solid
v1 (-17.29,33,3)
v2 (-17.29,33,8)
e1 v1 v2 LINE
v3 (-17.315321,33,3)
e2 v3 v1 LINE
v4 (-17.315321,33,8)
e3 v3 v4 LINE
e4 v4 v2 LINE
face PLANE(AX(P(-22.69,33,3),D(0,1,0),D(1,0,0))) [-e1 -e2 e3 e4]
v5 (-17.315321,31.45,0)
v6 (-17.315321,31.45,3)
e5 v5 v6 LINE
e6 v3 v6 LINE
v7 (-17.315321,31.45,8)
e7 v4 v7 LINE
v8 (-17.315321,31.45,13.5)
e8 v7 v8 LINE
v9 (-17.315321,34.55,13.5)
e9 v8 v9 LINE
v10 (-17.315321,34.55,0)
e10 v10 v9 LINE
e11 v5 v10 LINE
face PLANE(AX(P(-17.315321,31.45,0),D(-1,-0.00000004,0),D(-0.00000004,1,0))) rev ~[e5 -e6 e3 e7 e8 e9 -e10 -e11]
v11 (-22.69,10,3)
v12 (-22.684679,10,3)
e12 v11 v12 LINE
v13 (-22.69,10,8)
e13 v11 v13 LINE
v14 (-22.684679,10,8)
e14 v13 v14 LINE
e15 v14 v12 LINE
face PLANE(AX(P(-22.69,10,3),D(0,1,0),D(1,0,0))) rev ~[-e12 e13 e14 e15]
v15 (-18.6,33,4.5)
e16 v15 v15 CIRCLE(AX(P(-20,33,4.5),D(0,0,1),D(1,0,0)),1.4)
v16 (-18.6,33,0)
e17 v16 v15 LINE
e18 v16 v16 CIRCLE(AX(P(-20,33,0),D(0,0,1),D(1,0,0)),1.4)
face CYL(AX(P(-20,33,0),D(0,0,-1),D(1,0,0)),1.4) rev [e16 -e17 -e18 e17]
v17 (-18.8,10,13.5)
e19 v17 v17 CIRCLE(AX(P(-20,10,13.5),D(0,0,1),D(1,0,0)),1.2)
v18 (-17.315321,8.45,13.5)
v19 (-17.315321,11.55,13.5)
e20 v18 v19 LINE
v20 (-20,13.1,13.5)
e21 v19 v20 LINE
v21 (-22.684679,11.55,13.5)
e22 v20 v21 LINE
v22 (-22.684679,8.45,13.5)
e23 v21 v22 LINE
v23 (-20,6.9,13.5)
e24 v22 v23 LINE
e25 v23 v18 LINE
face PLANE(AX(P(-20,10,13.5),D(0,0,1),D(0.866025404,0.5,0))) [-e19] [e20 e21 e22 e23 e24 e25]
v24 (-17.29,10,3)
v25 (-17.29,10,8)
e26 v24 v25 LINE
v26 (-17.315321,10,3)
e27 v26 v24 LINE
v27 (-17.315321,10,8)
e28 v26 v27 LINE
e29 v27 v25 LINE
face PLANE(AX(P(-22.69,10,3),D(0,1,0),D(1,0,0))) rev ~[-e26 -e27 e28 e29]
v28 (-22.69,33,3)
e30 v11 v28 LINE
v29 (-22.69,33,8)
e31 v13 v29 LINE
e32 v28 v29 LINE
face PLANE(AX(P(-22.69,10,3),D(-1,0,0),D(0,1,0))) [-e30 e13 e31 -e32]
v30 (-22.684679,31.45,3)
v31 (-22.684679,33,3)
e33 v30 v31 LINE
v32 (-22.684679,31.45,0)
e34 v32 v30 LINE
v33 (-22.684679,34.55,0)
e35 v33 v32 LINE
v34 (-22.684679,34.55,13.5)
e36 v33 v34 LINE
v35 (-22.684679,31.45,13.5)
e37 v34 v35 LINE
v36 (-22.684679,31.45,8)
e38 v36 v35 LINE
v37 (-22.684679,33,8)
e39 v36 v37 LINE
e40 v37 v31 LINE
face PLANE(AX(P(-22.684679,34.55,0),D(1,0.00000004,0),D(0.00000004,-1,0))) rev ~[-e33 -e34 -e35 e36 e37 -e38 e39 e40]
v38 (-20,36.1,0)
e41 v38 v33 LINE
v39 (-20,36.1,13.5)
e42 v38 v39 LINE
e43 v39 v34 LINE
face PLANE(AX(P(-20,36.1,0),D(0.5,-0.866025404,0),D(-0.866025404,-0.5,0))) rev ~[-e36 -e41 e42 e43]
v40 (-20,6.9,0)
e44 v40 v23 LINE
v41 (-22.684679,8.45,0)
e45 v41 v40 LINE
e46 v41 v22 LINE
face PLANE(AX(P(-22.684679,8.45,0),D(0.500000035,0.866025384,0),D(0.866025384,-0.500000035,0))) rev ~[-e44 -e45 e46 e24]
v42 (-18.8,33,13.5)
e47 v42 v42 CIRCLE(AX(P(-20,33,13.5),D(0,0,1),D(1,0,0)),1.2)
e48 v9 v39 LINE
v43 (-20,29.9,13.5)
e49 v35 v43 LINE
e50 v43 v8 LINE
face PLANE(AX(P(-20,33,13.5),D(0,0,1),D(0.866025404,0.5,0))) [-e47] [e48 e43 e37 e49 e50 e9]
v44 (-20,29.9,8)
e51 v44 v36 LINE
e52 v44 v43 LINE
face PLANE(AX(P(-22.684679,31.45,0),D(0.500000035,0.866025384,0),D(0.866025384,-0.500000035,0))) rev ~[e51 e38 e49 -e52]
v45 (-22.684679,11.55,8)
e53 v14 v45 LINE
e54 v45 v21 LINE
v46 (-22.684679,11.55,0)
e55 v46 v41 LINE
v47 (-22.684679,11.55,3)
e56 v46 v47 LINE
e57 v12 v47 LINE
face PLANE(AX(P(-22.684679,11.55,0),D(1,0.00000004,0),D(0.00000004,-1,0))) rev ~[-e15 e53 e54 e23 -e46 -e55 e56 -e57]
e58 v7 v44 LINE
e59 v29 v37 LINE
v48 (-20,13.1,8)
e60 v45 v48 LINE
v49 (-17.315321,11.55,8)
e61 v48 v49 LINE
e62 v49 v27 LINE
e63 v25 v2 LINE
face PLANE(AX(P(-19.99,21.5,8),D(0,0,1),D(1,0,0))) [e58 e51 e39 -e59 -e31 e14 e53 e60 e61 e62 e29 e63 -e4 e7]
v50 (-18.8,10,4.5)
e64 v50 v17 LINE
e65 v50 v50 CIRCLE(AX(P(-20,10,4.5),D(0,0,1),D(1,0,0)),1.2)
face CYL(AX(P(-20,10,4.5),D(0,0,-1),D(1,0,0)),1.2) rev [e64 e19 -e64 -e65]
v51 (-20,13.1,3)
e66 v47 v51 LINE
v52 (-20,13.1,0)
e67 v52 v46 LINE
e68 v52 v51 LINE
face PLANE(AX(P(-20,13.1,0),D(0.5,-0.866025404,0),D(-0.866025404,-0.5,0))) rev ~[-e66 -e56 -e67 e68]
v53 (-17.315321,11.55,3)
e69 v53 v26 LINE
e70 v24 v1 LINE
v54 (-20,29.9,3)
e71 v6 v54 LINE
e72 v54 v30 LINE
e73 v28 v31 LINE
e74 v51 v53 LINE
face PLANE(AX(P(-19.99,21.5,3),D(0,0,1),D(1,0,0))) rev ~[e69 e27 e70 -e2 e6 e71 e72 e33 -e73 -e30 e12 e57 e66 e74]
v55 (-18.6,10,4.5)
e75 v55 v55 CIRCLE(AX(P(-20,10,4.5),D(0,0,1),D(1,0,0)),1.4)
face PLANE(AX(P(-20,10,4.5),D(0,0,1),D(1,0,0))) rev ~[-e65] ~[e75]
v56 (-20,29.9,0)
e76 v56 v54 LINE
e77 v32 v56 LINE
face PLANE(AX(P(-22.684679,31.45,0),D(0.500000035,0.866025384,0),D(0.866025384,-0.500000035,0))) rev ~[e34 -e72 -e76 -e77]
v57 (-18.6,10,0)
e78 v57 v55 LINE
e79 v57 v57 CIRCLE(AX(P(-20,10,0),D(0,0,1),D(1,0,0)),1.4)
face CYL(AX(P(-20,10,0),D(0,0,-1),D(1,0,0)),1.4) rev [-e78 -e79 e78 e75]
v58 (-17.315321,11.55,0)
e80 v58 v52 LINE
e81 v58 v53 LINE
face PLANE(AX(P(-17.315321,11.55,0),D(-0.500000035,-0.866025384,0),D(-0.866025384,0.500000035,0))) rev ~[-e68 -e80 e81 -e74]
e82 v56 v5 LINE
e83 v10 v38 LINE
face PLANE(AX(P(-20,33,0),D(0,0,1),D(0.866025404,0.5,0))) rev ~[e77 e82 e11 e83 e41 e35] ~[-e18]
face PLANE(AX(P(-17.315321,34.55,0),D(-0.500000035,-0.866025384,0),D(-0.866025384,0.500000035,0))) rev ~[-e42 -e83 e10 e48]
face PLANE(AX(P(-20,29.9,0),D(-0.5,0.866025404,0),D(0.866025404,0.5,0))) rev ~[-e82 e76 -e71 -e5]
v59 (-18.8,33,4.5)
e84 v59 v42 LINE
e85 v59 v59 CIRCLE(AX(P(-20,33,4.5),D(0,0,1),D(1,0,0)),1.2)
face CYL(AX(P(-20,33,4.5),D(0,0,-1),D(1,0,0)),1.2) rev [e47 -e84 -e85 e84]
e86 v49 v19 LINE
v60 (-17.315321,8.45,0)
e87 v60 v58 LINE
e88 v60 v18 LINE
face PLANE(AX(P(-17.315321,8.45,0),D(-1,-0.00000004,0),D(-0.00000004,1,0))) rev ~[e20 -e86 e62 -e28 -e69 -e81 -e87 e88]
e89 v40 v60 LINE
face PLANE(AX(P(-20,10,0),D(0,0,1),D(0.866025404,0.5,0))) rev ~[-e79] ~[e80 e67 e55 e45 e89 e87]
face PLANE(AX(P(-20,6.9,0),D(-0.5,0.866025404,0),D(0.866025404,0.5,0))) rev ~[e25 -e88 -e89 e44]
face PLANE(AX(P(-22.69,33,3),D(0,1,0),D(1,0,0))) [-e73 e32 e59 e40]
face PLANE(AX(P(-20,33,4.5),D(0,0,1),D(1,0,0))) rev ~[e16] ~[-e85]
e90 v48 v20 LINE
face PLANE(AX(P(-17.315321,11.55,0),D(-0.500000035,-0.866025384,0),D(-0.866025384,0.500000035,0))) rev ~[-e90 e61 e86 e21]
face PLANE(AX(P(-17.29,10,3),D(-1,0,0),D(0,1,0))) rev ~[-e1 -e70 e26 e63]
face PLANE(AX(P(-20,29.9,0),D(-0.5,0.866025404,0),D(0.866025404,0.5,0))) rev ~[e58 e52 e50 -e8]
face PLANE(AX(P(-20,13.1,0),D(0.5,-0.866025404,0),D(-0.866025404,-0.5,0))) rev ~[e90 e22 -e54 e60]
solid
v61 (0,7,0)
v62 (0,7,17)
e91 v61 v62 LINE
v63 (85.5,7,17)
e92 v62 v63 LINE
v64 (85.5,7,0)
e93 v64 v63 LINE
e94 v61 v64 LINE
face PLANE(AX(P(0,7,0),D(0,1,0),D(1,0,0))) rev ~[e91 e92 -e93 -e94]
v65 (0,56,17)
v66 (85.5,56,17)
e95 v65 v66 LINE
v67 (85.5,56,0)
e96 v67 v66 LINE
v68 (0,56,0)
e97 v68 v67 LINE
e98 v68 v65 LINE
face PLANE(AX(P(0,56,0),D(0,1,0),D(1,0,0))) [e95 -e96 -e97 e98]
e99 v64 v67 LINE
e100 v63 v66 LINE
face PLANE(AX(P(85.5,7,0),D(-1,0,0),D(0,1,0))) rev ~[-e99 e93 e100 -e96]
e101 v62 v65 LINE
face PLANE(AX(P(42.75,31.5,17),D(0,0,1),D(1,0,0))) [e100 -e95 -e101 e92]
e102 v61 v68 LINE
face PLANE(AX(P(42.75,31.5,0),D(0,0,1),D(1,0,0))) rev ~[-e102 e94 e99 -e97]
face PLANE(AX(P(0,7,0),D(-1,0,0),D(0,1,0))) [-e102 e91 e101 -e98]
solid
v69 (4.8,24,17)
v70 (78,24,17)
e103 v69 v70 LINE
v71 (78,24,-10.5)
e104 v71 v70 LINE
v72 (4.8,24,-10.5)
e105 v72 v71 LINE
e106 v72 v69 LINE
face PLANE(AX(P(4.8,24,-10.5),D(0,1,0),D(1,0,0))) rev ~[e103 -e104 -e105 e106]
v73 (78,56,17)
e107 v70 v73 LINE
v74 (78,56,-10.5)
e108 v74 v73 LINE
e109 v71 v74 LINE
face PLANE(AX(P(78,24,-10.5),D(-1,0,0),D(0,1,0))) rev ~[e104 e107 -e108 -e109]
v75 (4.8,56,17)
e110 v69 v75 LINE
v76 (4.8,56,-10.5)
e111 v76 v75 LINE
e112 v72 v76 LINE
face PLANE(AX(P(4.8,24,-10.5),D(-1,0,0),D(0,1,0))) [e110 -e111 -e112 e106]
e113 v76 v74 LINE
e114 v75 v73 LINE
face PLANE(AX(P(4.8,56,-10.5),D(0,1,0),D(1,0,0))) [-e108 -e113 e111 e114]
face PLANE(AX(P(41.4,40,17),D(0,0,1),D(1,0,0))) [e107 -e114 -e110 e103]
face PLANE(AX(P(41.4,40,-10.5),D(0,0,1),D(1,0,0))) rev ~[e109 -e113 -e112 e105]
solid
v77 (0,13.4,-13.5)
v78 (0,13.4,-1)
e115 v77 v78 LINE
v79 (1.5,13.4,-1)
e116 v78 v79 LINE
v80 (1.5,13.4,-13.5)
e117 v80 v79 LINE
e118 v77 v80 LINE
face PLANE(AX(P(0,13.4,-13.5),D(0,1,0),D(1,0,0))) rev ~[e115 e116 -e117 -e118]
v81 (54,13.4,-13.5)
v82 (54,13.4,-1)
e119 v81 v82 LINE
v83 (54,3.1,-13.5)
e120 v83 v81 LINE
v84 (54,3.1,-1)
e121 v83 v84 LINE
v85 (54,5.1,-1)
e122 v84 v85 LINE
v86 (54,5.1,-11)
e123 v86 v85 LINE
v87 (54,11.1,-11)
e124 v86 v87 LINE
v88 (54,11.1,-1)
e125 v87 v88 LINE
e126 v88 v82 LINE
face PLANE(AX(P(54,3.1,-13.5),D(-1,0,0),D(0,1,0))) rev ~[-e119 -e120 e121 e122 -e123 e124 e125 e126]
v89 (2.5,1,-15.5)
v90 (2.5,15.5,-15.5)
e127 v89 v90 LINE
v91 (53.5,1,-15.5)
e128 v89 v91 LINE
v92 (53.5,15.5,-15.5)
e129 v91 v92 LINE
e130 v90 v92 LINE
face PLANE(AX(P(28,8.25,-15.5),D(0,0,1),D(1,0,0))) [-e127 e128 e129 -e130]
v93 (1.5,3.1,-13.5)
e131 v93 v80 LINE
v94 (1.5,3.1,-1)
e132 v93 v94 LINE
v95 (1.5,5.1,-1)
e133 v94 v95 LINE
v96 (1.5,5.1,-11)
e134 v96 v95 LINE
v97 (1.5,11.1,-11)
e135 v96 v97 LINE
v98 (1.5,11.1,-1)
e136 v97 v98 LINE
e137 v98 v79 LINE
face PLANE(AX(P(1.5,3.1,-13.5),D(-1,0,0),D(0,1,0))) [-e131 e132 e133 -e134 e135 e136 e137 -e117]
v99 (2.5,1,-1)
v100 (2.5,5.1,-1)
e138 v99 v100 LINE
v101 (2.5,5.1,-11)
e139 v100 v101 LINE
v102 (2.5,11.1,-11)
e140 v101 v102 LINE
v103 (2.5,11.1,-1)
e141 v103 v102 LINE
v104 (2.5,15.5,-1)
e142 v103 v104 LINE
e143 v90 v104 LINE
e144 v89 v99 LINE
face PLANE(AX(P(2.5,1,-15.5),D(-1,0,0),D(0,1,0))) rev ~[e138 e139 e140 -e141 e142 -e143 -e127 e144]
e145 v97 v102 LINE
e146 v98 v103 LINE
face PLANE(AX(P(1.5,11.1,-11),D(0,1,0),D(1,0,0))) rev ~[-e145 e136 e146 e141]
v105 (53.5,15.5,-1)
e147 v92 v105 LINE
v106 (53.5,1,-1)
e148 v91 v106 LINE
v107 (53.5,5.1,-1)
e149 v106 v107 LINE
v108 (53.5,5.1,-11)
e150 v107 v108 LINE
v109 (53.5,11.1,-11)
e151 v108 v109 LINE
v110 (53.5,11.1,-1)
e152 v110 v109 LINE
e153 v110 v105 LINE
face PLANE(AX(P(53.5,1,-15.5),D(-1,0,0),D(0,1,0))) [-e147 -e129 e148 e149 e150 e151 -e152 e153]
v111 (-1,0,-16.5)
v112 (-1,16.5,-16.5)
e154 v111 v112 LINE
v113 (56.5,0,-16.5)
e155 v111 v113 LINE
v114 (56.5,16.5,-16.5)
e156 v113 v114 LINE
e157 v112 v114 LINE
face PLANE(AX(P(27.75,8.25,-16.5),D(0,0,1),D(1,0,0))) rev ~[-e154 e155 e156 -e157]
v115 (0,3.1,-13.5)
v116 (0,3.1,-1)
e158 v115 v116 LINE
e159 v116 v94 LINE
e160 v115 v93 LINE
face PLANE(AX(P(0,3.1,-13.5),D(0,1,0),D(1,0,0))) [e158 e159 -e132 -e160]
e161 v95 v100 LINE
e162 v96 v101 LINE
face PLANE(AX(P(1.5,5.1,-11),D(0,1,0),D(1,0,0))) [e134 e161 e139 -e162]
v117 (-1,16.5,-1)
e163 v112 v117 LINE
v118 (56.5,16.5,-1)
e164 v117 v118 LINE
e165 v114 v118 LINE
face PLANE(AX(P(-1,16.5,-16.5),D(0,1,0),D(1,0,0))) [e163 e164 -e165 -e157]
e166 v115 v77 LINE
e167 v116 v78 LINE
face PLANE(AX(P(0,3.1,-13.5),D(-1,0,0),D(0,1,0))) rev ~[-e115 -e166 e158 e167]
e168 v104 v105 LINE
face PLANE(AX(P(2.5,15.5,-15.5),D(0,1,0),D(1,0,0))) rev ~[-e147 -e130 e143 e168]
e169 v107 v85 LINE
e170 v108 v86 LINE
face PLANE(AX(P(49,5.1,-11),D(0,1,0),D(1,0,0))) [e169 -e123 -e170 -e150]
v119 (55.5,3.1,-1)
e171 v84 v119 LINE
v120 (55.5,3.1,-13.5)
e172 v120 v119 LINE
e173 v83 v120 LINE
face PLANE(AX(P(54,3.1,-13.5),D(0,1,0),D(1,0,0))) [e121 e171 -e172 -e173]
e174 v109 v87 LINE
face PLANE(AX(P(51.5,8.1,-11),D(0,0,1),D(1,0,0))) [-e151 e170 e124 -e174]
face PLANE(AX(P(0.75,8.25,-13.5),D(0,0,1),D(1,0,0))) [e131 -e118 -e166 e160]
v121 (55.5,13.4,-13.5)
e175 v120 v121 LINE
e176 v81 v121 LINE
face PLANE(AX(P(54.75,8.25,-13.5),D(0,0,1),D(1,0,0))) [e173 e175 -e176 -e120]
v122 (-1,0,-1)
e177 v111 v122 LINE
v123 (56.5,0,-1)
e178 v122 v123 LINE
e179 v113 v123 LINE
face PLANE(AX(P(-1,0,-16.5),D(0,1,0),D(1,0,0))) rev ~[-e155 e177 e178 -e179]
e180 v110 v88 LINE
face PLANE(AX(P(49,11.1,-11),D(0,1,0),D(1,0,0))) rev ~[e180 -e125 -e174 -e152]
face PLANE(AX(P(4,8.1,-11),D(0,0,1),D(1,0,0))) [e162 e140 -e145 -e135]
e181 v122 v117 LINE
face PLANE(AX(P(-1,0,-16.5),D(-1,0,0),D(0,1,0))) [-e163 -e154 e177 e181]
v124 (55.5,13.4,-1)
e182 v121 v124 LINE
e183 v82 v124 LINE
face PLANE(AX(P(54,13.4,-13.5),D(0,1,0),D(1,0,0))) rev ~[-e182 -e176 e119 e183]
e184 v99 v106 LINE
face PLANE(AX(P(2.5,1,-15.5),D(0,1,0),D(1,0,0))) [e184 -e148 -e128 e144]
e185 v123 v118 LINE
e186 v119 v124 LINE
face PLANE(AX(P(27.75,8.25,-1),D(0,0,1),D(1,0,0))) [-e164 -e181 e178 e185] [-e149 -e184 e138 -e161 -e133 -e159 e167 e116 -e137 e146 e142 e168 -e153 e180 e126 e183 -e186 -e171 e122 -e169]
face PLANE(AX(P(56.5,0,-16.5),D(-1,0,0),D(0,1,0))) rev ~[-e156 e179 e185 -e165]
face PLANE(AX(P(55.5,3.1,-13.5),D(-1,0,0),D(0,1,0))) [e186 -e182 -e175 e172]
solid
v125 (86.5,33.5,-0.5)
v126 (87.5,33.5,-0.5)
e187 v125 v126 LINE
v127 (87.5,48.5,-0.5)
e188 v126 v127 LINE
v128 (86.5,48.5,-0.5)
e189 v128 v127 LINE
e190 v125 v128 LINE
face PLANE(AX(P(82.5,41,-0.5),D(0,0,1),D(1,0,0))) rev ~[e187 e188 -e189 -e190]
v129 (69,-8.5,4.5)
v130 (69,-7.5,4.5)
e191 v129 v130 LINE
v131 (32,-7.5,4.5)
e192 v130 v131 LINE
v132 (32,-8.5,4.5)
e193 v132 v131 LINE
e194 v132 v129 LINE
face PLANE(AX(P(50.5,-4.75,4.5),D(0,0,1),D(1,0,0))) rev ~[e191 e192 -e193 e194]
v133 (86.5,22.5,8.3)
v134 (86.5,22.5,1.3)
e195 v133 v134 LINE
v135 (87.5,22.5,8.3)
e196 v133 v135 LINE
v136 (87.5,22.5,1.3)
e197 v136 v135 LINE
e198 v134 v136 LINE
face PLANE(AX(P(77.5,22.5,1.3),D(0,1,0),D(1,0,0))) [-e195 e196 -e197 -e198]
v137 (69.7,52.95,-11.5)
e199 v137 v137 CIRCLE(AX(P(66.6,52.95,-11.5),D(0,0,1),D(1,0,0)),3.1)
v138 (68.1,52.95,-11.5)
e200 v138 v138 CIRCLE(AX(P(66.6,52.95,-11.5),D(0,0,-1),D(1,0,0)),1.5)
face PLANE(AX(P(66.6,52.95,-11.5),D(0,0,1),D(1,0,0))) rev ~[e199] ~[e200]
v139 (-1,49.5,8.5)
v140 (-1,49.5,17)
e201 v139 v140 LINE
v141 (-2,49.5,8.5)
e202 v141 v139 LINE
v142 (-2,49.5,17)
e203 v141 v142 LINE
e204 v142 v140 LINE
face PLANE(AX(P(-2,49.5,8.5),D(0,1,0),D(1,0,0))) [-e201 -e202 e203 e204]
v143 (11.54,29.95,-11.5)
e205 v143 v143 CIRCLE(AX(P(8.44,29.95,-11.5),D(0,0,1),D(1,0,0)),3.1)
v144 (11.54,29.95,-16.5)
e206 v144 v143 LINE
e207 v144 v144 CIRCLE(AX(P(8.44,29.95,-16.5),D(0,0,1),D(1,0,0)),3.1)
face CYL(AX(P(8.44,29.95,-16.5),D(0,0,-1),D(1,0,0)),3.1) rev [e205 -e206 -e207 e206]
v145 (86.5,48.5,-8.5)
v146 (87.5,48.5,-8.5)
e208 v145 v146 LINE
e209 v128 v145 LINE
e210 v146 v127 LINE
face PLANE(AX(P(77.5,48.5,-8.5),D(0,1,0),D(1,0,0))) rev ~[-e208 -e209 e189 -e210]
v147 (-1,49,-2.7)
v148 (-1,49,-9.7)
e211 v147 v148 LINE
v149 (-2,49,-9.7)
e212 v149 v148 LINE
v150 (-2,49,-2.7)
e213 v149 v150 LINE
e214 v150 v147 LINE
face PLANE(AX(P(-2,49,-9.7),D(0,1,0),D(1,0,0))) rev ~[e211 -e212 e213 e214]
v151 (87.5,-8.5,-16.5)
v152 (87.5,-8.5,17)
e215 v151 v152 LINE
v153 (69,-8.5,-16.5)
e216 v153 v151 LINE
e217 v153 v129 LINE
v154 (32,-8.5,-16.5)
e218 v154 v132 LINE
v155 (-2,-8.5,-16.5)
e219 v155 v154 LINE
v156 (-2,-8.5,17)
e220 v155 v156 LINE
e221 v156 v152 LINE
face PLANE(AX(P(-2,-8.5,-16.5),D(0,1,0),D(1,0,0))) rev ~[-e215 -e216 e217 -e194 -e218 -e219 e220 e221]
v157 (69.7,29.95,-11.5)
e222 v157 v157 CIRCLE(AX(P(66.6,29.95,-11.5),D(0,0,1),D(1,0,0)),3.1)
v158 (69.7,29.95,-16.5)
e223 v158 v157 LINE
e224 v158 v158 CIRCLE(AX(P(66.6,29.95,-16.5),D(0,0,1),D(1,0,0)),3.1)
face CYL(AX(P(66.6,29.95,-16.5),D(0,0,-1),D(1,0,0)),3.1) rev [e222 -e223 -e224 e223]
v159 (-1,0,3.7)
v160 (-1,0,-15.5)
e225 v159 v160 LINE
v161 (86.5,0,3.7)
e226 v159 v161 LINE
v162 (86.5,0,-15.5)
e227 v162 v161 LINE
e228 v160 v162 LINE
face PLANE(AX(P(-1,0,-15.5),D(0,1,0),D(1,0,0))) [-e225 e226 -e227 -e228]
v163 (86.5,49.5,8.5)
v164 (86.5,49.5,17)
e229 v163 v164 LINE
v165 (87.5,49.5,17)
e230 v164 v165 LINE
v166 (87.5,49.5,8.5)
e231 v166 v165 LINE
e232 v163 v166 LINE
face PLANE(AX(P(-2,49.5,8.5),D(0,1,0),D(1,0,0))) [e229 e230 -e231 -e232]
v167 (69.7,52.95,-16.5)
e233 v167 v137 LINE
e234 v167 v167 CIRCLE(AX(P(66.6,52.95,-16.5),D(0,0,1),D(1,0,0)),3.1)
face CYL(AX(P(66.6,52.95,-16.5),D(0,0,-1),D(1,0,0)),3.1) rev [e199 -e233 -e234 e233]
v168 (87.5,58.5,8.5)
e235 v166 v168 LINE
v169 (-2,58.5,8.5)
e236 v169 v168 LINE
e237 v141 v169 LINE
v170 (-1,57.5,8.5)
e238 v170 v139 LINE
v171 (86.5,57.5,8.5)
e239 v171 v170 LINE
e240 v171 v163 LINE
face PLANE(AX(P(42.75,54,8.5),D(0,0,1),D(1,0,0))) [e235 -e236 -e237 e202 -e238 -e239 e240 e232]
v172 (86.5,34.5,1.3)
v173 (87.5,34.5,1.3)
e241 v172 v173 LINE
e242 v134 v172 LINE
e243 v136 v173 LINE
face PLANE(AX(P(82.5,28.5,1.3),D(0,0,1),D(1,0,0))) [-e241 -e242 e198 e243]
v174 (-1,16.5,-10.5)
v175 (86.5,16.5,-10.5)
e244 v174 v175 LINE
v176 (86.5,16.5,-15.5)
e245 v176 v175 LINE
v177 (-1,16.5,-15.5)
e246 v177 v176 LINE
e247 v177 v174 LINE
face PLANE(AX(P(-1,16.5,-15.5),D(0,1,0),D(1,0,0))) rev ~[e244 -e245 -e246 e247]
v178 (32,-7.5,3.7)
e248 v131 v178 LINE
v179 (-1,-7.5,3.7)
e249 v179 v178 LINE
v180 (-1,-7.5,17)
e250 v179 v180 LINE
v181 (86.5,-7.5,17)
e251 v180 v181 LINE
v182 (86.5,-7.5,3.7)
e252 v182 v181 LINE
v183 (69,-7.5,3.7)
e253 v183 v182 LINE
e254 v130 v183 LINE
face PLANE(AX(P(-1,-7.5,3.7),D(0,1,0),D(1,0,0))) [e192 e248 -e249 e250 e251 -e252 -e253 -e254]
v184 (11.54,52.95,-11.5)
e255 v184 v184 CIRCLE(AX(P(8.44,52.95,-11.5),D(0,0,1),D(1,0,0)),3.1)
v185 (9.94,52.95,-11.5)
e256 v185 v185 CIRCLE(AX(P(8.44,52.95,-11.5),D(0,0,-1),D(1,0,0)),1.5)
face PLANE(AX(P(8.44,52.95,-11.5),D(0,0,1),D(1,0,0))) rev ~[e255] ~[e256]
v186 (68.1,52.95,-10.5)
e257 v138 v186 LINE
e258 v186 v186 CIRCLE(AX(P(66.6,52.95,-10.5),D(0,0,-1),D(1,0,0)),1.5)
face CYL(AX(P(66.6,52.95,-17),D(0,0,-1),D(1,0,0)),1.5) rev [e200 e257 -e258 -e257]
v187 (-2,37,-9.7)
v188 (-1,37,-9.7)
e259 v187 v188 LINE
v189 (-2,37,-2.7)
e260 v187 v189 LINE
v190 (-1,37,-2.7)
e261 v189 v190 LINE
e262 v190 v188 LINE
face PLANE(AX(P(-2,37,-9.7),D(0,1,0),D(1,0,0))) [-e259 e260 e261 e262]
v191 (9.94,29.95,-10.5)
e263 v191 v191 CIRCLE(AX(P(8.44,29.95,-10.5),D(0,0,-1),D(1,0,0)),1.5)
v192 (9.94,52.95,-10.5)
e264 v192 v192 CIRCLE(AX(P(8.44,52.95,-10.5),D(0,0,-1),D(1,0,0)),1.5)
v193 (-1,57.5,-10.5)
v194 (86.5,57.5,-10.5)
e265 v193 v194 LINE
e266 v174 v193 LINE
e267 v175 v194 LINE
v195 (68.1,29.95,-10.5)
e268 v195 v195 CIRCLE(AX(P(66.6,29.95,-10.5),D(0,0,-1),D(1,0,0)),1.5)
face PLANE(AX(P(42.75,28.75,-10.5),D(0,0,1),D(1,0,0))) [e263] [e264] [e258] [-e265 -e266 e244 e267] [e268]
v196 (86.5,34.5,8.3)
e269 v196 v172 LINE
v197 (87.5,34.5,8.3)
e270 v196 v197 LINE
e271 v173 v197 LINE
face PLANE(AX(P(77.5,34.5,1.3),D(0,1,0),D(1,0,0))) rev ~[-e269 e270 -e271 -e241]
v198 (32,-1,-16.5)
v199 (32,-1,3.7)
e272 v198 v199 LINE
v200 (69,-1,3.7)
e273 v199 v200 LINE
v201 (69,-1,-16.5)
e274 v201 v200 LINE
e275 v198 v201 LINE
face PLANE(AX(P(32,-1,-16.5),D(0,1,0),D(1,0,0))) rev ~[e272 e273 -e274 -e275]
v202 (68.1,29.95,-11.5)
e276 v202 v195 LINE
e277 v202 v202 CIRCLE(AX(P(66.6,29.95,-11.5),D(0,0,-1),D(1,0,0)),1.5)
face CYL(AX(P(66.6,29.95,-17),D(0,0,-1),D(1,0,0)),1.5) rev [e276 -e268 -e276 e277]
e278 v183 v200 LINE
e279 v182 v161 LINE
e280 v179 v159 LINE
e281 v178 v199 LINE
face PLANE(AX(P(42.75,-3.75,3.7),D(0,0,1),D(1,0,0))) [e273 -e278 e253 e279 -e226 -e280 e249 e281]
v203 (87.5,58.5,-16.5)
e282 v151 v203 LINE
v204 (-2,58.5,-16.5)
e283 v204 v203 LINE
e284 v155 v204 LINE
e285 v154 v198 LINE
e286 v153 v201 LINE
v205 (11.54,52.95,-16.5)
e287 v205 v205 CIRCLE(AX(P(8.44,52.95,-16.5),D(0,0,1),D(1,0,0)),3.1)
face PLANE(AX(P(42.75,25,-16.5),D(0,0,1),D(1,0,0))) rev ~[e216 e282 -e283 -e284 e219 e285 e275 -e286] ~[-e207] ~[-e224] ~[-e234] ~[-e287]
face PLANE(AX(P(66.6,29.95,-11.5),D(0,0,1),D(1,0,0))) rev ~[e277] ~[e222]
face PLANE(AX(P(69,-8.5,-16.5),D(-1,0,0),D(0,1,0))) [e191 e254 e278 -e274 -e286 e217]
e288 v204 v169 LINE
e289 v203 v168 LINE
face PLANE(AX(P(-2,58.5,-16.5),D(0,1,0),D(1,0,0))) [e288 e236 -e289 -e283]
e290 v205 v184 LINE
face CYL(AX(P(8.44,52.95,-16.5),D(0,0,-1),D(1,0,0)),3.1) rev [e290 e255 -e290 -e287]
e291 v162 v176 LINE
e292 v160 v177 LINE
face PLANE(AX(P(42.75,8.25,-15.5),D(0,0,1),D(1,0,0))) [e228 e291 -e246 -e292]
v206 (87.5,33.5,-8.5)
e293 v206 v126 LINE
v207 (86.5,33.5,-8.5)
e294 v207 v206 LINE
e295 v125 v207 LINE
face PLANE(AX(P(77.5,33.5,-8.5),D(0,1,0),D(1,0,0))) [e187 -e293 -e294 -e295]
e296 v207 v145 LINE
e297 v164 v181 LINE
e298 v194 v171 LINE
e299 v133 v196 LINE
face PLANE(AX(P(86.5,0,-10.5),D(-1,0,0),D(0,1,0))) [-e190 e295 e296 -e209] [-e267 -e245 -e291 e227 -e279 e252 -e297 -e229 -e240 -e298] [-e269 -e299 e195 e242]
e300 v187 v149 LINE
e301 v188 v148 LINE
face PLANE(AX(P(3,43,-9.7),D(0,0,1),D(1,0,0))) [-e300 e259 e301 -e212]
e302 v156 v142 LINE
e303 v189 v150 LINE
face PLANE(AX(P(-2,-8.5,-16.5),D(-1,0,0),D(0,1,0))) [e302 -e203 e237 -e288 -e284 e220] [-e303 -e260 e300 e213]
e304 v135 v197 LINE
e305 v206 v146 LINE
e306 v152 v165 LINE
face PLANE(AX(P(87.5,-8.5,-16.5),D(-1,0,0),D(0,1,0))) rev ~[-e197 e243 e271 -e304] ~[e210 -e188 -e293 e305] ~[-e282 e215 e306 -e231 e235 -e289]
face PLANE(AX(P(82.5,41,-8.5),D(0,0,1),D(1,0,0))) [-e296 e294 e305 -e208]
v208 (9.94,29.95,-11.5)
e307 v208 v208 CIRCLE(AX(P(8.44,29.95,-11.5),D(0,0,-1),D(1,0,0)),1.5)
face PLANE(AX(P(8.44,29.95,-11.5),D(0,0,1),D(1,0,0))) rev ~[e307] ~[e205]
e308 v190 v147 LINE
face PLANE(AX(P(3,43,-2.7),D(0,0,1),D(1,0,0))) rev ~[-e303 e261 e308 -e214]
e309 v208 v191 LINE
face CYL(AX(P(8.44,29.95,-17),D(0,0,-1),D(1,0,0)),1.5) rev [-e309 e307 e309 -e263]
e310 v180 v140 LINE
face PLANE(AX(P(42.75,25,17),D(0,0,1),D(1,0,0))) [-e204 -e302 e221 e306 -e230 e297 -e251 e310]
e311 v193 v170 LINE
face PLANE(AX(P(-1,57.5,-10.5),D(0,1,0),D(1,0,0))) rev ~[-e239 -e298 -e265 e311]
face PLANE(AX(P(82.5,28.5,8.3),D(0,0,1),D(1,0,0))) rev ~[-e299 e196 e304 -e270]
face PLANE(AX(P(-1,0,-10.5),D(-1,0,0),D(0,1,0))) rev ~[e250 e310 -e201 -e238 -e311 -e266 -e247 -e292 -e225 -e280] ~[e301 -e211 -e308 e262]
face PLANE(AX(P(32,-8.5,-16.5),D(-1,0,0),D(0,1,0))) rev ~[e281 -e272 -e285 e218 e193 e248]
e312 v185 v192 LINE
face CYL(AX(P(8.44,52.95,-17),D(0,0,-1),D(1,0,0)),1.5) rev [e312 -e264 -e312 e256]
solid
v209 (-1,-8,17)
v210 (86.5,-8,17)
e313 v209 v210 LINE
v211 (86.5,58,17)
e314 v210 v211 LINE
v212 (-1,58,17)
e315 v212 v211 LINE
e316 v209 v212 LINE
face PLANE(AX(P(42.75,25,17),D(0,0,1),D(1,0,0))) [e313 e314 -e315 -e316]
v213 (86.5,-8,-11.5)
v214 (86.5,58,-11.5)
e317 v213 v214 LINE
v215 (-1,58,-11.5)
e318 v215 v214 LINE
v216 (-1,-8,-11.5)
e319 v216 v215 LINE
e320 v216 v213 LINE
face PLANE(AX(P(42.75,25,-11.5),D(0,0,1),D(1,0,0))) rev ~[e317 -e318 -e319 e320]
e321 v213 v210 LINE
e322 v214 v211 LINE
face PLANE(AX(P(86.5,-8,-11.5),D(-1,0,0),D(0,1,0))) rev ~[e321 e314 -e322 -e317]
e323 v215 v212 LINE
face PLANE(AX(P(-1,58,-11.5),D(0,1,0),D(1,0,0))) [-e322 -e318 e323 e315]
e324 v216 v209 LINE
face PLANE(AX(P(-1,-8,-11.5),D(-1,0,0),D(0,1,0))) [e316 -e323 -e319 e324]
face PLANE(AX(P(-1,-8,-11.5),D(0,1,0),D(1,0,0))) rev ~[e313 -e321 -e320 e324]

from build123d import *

# Parameters (mm, degrees)
BOX_W                    = 85.5
BOX_H                    = 49
BOX_DEPTH                = 17
BOX001_W                 = 73.2
BOX001_H                 = 32
BOX001_DEPTH             = 27.5
BOX003_W                 = 87.5
BOX003_H                 = 66
BOX003_DEPTH             = 28.5
BOX027_W                 = 5
BOX027_H                 = 6
BOX027_DEPTH             = 10
BOX026_W                 = 5
BOX026_H                 = 6
BOX026_DEPTH             = 10
BOX025_W                 = 1.5
BOX025_H                 = 10.3
BOX025_DEPTH             = 12.5
BOX024_W                 = 1.5
BOX024_H                 = 10.3
BOX024_DEPTH             = 12.5
BOX022_W                 = 51
BOX022_H                 = 14.5
BOX022_DEPTH             = 14.5
BOX023_W                 = 57.5
BOX023_H                 = 16.5
BOX023_DEPTH             = 15.5
BOX028_W                 = 10
BOX028_H                 = 12
BOX028_DEPTH             = 7
BOX029_W                 = 10
BOX029_H                 = 12
BOX029_DEPTH             = 7
BOX006_W                 = 10
BOX006_H                 = 15
BOX006_DEPTH             = 8
CYLINDER003_R            = 3.1
CYLINDER003_DEPTH        = 5
CYLINDER001_R            = 1.5
CYLINDER001_DEPTH        = 10
CYLINDER_R               = 1.5
CYLINDER_DEPTH           = 10
CYLINDER002_R            = 3.1
CYLINDER002_DEPTH        = 5
BOX002_W                 = 87.5
BOX002_H                 = 7.5
BOX002_DEPTH             = 13.3
BOX005_W                 = 37
BOX005_H                 = 7.5
BOX005_DEPTH             = 21
BOX004_W                 = 87.5
BOX004_H                 = 57.5
BOX004_DEPTH             = 27.5
BOX021_W                 = 87.5
BOX021_H                 = 16.5
BOX021_DEPTH             = 32.5
CYLINDER006_R            = 1.5
CYLINDER006_DEPTH        = 10
CYLINDER007_R            = 3.1
CYLINDER007_DEPTH        = 5
CYLINDER008_R            = 3.1
CYLINDER008_DEPTH        = 5
CYLINDER009_R            = 1.5
CYLINDER009_DEPTH        = 10
BOX031_W                 = 89.5
BOX031_H                 = 9
BOX031_DEPTH             = 8.5
BOX014_W                 = 89.5
BOX014_H                 = 67
BOX014_DEPTH             = 33.5
CYLINDER005_R            = 1.2
CYLINDER005_DEPTH        = 9
CYLINDER010_R            = 1.4
CYLINDER010_DEPTH        = 4.5
CYLINDER011_R            = 1.4
CYLINDER011_DEPTH        = 4.5
CYLINDER004_R            = 1.2
CYLINDER004_DEPTH        = 9
PRISM001_DEPTH           = 13.5
PRISM001_PLACEMENT_ANGLE = 30
PRISM_DEPTH              = 13.5
PRISM_PLACEMENT_ANGLE    = 30
BOX030_W                 = 5.4
BOX030_H                 = 23
BOX030_DEPTH             = 5


with BuildPart() as cube_screen:
    # Box → Box (new body)
    with BuildSketch(Plane(origin=(0, 7, 0), x_dir=(1, 0, 0), z_dir=(0, 0, 1))):
        with Locations((42.75, 24.5)):
            Rectangle(BOX_W, BOX_H)
    extrude(amount=BOX_DEPTH)


with BuildPart() as cube_pizero:
    # Box001 → Box001 (new body)
    with BuildSketch(Plane(origin=(4.8, 24, -10.5), x_dir=(1, 0, 0), z_dir=(0, 0, 1))):
        with Locations((36.6, 16)):
            Rectangle(BOX001_W, BOX001_H)
    extrude(amount=BOX001_DEPTH)


with BuildPart() as cube_outer_thinner:
    # Box003 → Box003 (new body)
    with BuildSketch(Plane(origin=(-1, -8, -11.5), x_dir=(1, 0, 0), z_dir=(0, 0, 1))):
        with Locations((43.75, 33)):
            Rectangle(BOX003_W, BOX003_H)
    extrude(amount=BOX003_DEPTH)


with BuildPart() as cube003_plus_end_gap:
    # Box027 → Box027 (new body)
    with BuildSketch(Plane(origin=(47.5, 5.1, 4.5), x_dir=(1, 0, 0), z_dir=(0, 0, 1))):
        with Locations((2.5, 3)):
            Rectangle(BOX027_W, BOX027_H)
    extrude(amount=BOX027_DEPTH)


with BuildPart() as cube002_minus_spring_gap:
    # Box026 → Box026 (new body)
    with BuildSketch(Plane(origin=(0, 5.1, 4.5), x_dir=(1, 0, 0), z_dir=(0, 0, 1))):
        with Locations((2.5, 3)):
            Rectangle(BOX026_W, BOX026_H)
    extrude(amount=BOX026_DEPTH)


with BuildPart() as cube003_plus_end:
    # Box025 → Box025 (new body)
    with BuildSketch(Plane(origin=(52.5, 3.1, 2), x_dir=(1, 0, 0), z_dir=(0, 0, 1))):
        with Locations((0.75, 5.15)):
            Rectangle(BOX025_W, BOX025_H)
    extrude(amount=BOX025_DEPTH)


with BuildPart() as cube002_minus_spring:
    # Box024 → Box024 (new body)
    with BuildSketch(Plane(origin=(-1.5, 3.1, 2), x_dir=(1, 0, 0), z_dir=(0, 0, 1))):
        with Locations((0.75, 5.15)):
            Rectangle(BOX024_W, BOX024_H)
    extrude(amount=BOX024_DEPTH)


with BuildPart() as cube:
    # Box022 → Box022 (new body)
    with BuildSketch(Plane(origin=(1, 1, 0), x_dir=(1, 0, 0), z_dir=(0, 0, 1))):
        with Locations((25.5, 7.25)):
            Rectangle(BOX022_W, BOX022_H)
    extrude(amount=BOX022_DEPTH)


with BuildPart() as cut004:
    # Box023 → Box023 (new body)
    with BuildSketch(Plane(origin=(-2.5, 0, -1), x_dir=(1, 0, 0), z_dir=(0, 0, 1))):
        with Locations((28.75, 8.25)):
            Rectangle(BOX023_W, BOX023_H)
    extrude(amount=BOX023_DEPTH)

    # Cut: cut Cube
    add(cube.part, mode=Mode.SUBTRACT)

    # Cut001: cut Cube002(minus_spring)
    add(cube002_minus_spring.part, mode=Mode.SUBTRACT)

    # Cut002: cut Cube003(plus_end)
    add(cube003_plus_end.part, mode=Mode.SUBTRACT)

    # Cut003: cut Cube002(minus_spring_gap)
    add(cube002_minus_spring_gap.part, mode=Mode.SUBTRACT)

    # Cut004: cut Cube003(plus_end_gap)
    add(cube003_plus_end_gap.part, mode=Mode.SUBTRACT)


with BuildPart() as cut004_1:
    # Cut004 placement: moved
    add(cut004.part.moved(Location((1.5, 0, -15.5))))


with BuildPart() as cube_micro_usb_port:
    # Box028 → Box028 (new body)
    with BuildSketch(Plane(origin=(77.5, 22.5, 1.3), x_dir=(1, 0, 0), z_dir=(0, 0, 1))):
        with Locations((5, 6)):
            Rectangle(BOX028_W, BOX028_H)
    extrude(amount=BOX028_DEPTH)


with BuildPart() as cube_micro_sdcard:
    # Box029 → Box029 (new body)
    with BuildSketch(Plane(origin=(-2, 37, -9.7), x_dir=(1, 0, 0), z_dir=(0, 0, 1))):
        with Locations((5, 6)):
            Rectangle(BOX029_W, BOX029_H)
    extrude(amount=BOX029_DEPTH)


with BuildPart() as cube_usb_port:
    # Box006 → Box006 (new body)
    with BuildSketch(Plane(origin=(77.5, 33.5, -8.5), x_dir=(1, 0, 0), z_dir=(0, 0, 1))):
        with Locations((5, 7.5)):
            Rectangle(BOX006_W, BOX006_H)
    extrude(amount=BOX006_DEPTH)


with BuildPart() as cylinder001_left_clearance_bottom:
    # Cylinder003 → Cylinder003 (new body)
    with BuildSketch(Plane(origin=(8.44, 52.95, -16.5), x_dir=(1, 0, 0), z_dir=(0, 0, 1))):
        Circle(CYLINDER003_R)
    extrude(amount=CYLINDER003_DEPTH)


with BuildPart() as cylinder001_left_shaft_bottom:
    # Cylinder001 → Cylinder001 (new body)
    with BuildSketch(Plane(origin=(8.44, 52.95, -17), x_dir=(1, 0, 0), z_dir=(0, 0, 1))):
        Circle(CYLINDER001_R)
    extrude(amount=CYLINDER001_DEPTH)


with BuildPart() as cylinder_right_shaft_bottom:
    # Cylinder → Cylinder (new body)
    with BuildSketch(Plane(origin=(66.6, 52.95, -17), x_dir=(1, 0, 0), z_dir=(0, 0, 1))):
        Circle(CYLINDER_R)
    extrude(amount=CYLINDER_DEPTH)


with BuildPart() as cylinder002_right_clearance_bottom:
    # Cylinder002 → Cylinder002 (new body)
    with BuildSketch(Plane(origin=(66.6, 52.95, -16.5), x_dir=(1, 0, 0), z_dir=(0, 0, 1))):
        Circle(CYLINDER002_R)
    extrude(amount=CYLINDER002_DEPTH)


with BuildPart() as cube_screen_to_pcb:
    # Box002 → Box002 (new body)
    with BuildSketch(Plane(origin=(-1, -7.5, 3.7), x_dir=(1, 0, 0), z_dir=(0, 0, 1))):
        with Locations((43.75, 3.75)):
            Rectangle(BOX002_W, BOX002_H)
    extrude(amount=BOX002_DEPTH)


with BuildPart() as cube_screen_to_pcb_cutout:
    # Box005 → Box005 (new body)
    with BuildSketch(Plane(origin=(32, -8.5, -16.5), x_dir=(1, 0, 0), z_dir=(0, 0, 1))):
        with Locations((18.5, 3.75)):
            Rectangle(BOX005_W, BOX005_H)
    extrude(amount=BOX005_DEPTH)


with BuildPart() as cube_screen_cutout:
    # Box004 → Box004 (new body)
    with BuildSketch(Plane(origin=(-1, 0, -10.5), x_dir=(1, 0, 0), z_dir=(0, 0, 1))):
        with Locations((43.75, 28.75)):
            Rectangle(BOX004_W, BOX004_H)
    extrude(amount=BOX004_DEPTH)


with BuildPart() as box021:
    # Box021 → Box021 (new body)
    with BuildSketch(Plane(origin=(-1, 0, -15.5), x_dir=(1, 0, 0), z_dir=(0, 0, 1))):
        with Locations((43.75, 8.25)):
            Rectangle(BOX021_W, BOX021_H)
    extrude(amount=BOX021_DEPTH)


with BuildPart() as cylinder001_left_shaft_top:
    # Cylinder006 → Cylinder006 (new body)
    with BuildSketch(Plane(origin=(8.44, 29.95, -17), x_dir=(1, 0, 0), z_dir=(0, 0, 1))):
        Circle(CYLINDER006_R)
    extrude(amount=CYLINDER006_DEPTH)


with BuildPart() as cylinder001_left_clearance_top:
    # Cylinder007 → Cylinder007 (new body)
    with BuildSketch(Plane(origin=(8.44, 29.95, -16.5), x_dir=(1, 0, 0), z_dir=(0, 0, 1))):
        Circle(CYLINDER007_R)
    extrude(amount=CYLINDER007_DEPTH)


with BuildPart() as cylinder002_right_clearance_top:
    # Cylinder008 → Cylinder008 (new body)
    with BuildSketch(Plane(origin=(66.6, 29.95, -16.5), x_dir=(1, 0, 0), z_dir=(0, 0, 1))):
        Circle(CYLINDER008_R)
    extrude(amount=CYLINDER008_DEPTH)


with BuildPart() as cylinder_right_shaft_top:
    # Cylinder009 → Cylinder009 (new body)
    with BuildSketch(Plane(origin=(66.6, 29.95, -17), x_dir=(1, 0, 0), z_dir=(0, 0, 1))):
        Circle(CYLINDER009_R)
    extrude(amount=CYLINDER009_DEPTH)


with BuildPart() as cube002_gpio_cutout:
    # Box031 → Box031 (new body)
    with BuildSketch(Plane(origin=(-2, 49.5, 8.5), x_dir=(1, 0, 0), z_dir=(0, 0, 1))):
        with Locations((44.75, 4.5)):
            Rectangle(BOX031_W, BOX031_H)
    extrude(amount=BOX031_DEPTH)


with BuildPart() as cut022:
    # Box014 → Box014 (new body)
    with BuildSketch(Plane(origin=(-2, -8.5, -16.5), x_dir=(1, 0, 0), z_dir=(0, 0, 1))):
        with Locations((44.75, 33.5)):
            Rectangle(BOX014_W, BOX014_H)
    extrude(amount=BOX014_DEPTH)

    # Cut007: cut Cube002(GPIO_cutout)
    add(cube002_gpio_cutout.part, mode=Mode.SUBTRACT)

    # Cut008: cut Cylinder(right_shaft_top)
    add(cylinder_right_shaft_top.part, mode=Mode.SUBTRACT)

    # Cut009: cut Cylinder002(right_clearance_top)
    add(cylinder002_right_clearance_top.part, mode=Mode.SUBTRACT)

    # Cut010: cut Cylinder001(left_clearance_top)
    add(cylinder001_left_clearance_top.part, mode=Mode.SUBTRACT)

    # Cut011: cut Cylinder001(left_shaft_top)
    add(cylinder001_left_shaft_top.part, mode=Mode.SUBTRACT)

    # Cut012: cut Box021
    add(box021.part, mode=Mode.SUBTRACT)

    # Cut013: cut Cube(screen_cutout)
    add(cube_screen_cutout.part, mode=Mode.SUBTRACT)

    # Cut014: cut Cube(screen_to_pcb_cutout)
    add(cube_screen_to_pcb_cutout.part, mode=Mode.SUBTRACT)

    # Cut015: cut Cube(screen_to_pcb)
    add(cube_screen_to_pcb.part, mode=Mode.SUBTRACT)

    # Cut016: cut Cylinder002(right_clearance_bottom)
    add(cylinder002_right_clearance_bottom.part, mode=Mode.SUBTRACT)

    # Cut017: cut Cylinder(right_shaft_bottom
    add(cylinder_right_shaft_bottom.part, mode=Mode.SUBTRACT)

    # Cut018: cut Cylinder001(left_shaft_bottom)
    add(cylinder001_left_shaft_bottom.part, mode=Mode.SUBTRACT)

    # Cut019: cut Cylinder001(left_clearance_bottom)
    add(cylinder001_left_clearance_bottom.part, mode=Mode.SUBTRACT)

    # Cut020: cut Cube(usb_port)
    add(cube_usb_port.part, mode=Mode.SUBTRACT)

    # Cut021: cut Cube(micro_sdcard)
    add(cube_micro_sdcard.part, mode=Mode.SUBTRACT)

    # Cut022: cut Cube(micro_usb_port)
    add(cube_micro_usb_port.part, mode=Mode.SUBTRACT)


with BuildPart() as cylinder001_bottom_m2:
    # Cylinder005 → Cylinder005 (new body)
    with BuildSketch(Plane(origin=(-20, 33, 4.5), x_dir=(1, 0, 0), z_dir=(0, 0, 1))):
        Circle(CYLINDER005_R)
    extrude(amount=CYLINDER005_DEPTH)


with BuildPart() as cylinder_top_m3:
    # Cylinder010 → Cylinder010 (new body)
    with BuildSketch(Plane(origin=(-20, 10, 0), x_dir=(1, 0, 0), z_dir=(0, 0, 1))):
        Circle(CYLINDER010_R)
    extrude(amount=CYLINDER010_DEPTH)


with BuildPart() as cylinder001_bottom_m3:
    # Cylinder011 → Cylinder011 (new body)
    with BuildSketch(Plane(origin=(-20, 33, 0), x_dir=(1, 0, 0), z_dir=(0, 0, 1))):
        Circle(CYLINDER011_R)
    extrude(amount=CYLINDER011_DEPTH)


with BuildPart() as cylinder_top_m2:
    # Cylinder004 → Cylinder004 (new body)
    with BuildSketch(Plane(origin=(-20, 10, 4.5), x_dir=(1, 0, 0), z_dir=(0, 0, 1))):
        Circle(CYLINDER004_R)
    extrude(amount=CYLINDER004_DEPTH)


with BuildPart() as prism001_bottom:
    # Prism001 → Prism001 (new body)
    with BuildSketch(Plane.XY):
        Polygon((3.1, 0), (1.55, 2.684679), (-1.55, 2.684679), (-3.1, 0), (-1.55, -2.684679), (1.55, -2.684679), align=None)
    extrude(amount=PRISM001_DEPTH)


with BuildPart() as prism001_bottom_1:
    # Prism001 placement: moved
    add(prism001_bottom.part.moved(Location((-20, 33, 0))).rotate(Axis((-20, 33, 0), (0, 0, 1)), PRISM001_PLACEMENT_ANGLE))


with BuildPart() as prism_top:
    # Prism → Prism (new body)
    with BuildSketch(Plane.XY):
        Polygon((3.1, 0), (1.55, 2.684679), (-1.55, 2.684679), (-3.1, 0), (-1.55, -2.684679), (1.55, -2.684679), align=None)
    extrude(amount=PRISM_DEPTH)


with BuildPart() as prism_top_1:
    # Prism placement: moved
    add(prism_top.part.moved(Location((-20, 10, 0))).rotate(Axis((-20, 10, 0), (0, 0, 1)), PRISM_PLACEMENT_ANGLE))


with BuildPart() as cut026:
    # Box030 → Box030 (new body)
    with BuildSketch(Plane(origin=(-22.69, 10, 3), x_dir=(1, 0, 0), z_dir=(0, 0, 1))):
        with Locations((2.7, 11.5)):
            Rectangle(BOX030_W, BOX030_H)
    extrude(amount=BOX030_DEPTH)

    # Fusion: union Prism001(bottom), Prism(top)
    add(prism001_bottom_1.part)
    add(prism_top_1.part)

    # Cut023: cut Cylinder(top_m2)
    add(cylinder_top_m2.part, mode=Mode.SUBTRACT)

    # Cut024: cut Cylinder001(bottom_m3)
    add(cylinder001_bottom_m3.part, mode=Mode.SUBTRACT)

    # Cut025: cut Cylinder(top_m3)
    add(cylinder_top_m3.part, mode=Mode.SUBTRACT)

    # Cut026: cut Cylinder001(bottom_m2)
    add(cylinder001_bottom_m2.part, mode=Mode.SUBTRACT)


solid = Compound([cube_screen.part, cube_pizero.part, cube_outer_thinner.part, cut004_1.part, cut022.part, cut026.part])
